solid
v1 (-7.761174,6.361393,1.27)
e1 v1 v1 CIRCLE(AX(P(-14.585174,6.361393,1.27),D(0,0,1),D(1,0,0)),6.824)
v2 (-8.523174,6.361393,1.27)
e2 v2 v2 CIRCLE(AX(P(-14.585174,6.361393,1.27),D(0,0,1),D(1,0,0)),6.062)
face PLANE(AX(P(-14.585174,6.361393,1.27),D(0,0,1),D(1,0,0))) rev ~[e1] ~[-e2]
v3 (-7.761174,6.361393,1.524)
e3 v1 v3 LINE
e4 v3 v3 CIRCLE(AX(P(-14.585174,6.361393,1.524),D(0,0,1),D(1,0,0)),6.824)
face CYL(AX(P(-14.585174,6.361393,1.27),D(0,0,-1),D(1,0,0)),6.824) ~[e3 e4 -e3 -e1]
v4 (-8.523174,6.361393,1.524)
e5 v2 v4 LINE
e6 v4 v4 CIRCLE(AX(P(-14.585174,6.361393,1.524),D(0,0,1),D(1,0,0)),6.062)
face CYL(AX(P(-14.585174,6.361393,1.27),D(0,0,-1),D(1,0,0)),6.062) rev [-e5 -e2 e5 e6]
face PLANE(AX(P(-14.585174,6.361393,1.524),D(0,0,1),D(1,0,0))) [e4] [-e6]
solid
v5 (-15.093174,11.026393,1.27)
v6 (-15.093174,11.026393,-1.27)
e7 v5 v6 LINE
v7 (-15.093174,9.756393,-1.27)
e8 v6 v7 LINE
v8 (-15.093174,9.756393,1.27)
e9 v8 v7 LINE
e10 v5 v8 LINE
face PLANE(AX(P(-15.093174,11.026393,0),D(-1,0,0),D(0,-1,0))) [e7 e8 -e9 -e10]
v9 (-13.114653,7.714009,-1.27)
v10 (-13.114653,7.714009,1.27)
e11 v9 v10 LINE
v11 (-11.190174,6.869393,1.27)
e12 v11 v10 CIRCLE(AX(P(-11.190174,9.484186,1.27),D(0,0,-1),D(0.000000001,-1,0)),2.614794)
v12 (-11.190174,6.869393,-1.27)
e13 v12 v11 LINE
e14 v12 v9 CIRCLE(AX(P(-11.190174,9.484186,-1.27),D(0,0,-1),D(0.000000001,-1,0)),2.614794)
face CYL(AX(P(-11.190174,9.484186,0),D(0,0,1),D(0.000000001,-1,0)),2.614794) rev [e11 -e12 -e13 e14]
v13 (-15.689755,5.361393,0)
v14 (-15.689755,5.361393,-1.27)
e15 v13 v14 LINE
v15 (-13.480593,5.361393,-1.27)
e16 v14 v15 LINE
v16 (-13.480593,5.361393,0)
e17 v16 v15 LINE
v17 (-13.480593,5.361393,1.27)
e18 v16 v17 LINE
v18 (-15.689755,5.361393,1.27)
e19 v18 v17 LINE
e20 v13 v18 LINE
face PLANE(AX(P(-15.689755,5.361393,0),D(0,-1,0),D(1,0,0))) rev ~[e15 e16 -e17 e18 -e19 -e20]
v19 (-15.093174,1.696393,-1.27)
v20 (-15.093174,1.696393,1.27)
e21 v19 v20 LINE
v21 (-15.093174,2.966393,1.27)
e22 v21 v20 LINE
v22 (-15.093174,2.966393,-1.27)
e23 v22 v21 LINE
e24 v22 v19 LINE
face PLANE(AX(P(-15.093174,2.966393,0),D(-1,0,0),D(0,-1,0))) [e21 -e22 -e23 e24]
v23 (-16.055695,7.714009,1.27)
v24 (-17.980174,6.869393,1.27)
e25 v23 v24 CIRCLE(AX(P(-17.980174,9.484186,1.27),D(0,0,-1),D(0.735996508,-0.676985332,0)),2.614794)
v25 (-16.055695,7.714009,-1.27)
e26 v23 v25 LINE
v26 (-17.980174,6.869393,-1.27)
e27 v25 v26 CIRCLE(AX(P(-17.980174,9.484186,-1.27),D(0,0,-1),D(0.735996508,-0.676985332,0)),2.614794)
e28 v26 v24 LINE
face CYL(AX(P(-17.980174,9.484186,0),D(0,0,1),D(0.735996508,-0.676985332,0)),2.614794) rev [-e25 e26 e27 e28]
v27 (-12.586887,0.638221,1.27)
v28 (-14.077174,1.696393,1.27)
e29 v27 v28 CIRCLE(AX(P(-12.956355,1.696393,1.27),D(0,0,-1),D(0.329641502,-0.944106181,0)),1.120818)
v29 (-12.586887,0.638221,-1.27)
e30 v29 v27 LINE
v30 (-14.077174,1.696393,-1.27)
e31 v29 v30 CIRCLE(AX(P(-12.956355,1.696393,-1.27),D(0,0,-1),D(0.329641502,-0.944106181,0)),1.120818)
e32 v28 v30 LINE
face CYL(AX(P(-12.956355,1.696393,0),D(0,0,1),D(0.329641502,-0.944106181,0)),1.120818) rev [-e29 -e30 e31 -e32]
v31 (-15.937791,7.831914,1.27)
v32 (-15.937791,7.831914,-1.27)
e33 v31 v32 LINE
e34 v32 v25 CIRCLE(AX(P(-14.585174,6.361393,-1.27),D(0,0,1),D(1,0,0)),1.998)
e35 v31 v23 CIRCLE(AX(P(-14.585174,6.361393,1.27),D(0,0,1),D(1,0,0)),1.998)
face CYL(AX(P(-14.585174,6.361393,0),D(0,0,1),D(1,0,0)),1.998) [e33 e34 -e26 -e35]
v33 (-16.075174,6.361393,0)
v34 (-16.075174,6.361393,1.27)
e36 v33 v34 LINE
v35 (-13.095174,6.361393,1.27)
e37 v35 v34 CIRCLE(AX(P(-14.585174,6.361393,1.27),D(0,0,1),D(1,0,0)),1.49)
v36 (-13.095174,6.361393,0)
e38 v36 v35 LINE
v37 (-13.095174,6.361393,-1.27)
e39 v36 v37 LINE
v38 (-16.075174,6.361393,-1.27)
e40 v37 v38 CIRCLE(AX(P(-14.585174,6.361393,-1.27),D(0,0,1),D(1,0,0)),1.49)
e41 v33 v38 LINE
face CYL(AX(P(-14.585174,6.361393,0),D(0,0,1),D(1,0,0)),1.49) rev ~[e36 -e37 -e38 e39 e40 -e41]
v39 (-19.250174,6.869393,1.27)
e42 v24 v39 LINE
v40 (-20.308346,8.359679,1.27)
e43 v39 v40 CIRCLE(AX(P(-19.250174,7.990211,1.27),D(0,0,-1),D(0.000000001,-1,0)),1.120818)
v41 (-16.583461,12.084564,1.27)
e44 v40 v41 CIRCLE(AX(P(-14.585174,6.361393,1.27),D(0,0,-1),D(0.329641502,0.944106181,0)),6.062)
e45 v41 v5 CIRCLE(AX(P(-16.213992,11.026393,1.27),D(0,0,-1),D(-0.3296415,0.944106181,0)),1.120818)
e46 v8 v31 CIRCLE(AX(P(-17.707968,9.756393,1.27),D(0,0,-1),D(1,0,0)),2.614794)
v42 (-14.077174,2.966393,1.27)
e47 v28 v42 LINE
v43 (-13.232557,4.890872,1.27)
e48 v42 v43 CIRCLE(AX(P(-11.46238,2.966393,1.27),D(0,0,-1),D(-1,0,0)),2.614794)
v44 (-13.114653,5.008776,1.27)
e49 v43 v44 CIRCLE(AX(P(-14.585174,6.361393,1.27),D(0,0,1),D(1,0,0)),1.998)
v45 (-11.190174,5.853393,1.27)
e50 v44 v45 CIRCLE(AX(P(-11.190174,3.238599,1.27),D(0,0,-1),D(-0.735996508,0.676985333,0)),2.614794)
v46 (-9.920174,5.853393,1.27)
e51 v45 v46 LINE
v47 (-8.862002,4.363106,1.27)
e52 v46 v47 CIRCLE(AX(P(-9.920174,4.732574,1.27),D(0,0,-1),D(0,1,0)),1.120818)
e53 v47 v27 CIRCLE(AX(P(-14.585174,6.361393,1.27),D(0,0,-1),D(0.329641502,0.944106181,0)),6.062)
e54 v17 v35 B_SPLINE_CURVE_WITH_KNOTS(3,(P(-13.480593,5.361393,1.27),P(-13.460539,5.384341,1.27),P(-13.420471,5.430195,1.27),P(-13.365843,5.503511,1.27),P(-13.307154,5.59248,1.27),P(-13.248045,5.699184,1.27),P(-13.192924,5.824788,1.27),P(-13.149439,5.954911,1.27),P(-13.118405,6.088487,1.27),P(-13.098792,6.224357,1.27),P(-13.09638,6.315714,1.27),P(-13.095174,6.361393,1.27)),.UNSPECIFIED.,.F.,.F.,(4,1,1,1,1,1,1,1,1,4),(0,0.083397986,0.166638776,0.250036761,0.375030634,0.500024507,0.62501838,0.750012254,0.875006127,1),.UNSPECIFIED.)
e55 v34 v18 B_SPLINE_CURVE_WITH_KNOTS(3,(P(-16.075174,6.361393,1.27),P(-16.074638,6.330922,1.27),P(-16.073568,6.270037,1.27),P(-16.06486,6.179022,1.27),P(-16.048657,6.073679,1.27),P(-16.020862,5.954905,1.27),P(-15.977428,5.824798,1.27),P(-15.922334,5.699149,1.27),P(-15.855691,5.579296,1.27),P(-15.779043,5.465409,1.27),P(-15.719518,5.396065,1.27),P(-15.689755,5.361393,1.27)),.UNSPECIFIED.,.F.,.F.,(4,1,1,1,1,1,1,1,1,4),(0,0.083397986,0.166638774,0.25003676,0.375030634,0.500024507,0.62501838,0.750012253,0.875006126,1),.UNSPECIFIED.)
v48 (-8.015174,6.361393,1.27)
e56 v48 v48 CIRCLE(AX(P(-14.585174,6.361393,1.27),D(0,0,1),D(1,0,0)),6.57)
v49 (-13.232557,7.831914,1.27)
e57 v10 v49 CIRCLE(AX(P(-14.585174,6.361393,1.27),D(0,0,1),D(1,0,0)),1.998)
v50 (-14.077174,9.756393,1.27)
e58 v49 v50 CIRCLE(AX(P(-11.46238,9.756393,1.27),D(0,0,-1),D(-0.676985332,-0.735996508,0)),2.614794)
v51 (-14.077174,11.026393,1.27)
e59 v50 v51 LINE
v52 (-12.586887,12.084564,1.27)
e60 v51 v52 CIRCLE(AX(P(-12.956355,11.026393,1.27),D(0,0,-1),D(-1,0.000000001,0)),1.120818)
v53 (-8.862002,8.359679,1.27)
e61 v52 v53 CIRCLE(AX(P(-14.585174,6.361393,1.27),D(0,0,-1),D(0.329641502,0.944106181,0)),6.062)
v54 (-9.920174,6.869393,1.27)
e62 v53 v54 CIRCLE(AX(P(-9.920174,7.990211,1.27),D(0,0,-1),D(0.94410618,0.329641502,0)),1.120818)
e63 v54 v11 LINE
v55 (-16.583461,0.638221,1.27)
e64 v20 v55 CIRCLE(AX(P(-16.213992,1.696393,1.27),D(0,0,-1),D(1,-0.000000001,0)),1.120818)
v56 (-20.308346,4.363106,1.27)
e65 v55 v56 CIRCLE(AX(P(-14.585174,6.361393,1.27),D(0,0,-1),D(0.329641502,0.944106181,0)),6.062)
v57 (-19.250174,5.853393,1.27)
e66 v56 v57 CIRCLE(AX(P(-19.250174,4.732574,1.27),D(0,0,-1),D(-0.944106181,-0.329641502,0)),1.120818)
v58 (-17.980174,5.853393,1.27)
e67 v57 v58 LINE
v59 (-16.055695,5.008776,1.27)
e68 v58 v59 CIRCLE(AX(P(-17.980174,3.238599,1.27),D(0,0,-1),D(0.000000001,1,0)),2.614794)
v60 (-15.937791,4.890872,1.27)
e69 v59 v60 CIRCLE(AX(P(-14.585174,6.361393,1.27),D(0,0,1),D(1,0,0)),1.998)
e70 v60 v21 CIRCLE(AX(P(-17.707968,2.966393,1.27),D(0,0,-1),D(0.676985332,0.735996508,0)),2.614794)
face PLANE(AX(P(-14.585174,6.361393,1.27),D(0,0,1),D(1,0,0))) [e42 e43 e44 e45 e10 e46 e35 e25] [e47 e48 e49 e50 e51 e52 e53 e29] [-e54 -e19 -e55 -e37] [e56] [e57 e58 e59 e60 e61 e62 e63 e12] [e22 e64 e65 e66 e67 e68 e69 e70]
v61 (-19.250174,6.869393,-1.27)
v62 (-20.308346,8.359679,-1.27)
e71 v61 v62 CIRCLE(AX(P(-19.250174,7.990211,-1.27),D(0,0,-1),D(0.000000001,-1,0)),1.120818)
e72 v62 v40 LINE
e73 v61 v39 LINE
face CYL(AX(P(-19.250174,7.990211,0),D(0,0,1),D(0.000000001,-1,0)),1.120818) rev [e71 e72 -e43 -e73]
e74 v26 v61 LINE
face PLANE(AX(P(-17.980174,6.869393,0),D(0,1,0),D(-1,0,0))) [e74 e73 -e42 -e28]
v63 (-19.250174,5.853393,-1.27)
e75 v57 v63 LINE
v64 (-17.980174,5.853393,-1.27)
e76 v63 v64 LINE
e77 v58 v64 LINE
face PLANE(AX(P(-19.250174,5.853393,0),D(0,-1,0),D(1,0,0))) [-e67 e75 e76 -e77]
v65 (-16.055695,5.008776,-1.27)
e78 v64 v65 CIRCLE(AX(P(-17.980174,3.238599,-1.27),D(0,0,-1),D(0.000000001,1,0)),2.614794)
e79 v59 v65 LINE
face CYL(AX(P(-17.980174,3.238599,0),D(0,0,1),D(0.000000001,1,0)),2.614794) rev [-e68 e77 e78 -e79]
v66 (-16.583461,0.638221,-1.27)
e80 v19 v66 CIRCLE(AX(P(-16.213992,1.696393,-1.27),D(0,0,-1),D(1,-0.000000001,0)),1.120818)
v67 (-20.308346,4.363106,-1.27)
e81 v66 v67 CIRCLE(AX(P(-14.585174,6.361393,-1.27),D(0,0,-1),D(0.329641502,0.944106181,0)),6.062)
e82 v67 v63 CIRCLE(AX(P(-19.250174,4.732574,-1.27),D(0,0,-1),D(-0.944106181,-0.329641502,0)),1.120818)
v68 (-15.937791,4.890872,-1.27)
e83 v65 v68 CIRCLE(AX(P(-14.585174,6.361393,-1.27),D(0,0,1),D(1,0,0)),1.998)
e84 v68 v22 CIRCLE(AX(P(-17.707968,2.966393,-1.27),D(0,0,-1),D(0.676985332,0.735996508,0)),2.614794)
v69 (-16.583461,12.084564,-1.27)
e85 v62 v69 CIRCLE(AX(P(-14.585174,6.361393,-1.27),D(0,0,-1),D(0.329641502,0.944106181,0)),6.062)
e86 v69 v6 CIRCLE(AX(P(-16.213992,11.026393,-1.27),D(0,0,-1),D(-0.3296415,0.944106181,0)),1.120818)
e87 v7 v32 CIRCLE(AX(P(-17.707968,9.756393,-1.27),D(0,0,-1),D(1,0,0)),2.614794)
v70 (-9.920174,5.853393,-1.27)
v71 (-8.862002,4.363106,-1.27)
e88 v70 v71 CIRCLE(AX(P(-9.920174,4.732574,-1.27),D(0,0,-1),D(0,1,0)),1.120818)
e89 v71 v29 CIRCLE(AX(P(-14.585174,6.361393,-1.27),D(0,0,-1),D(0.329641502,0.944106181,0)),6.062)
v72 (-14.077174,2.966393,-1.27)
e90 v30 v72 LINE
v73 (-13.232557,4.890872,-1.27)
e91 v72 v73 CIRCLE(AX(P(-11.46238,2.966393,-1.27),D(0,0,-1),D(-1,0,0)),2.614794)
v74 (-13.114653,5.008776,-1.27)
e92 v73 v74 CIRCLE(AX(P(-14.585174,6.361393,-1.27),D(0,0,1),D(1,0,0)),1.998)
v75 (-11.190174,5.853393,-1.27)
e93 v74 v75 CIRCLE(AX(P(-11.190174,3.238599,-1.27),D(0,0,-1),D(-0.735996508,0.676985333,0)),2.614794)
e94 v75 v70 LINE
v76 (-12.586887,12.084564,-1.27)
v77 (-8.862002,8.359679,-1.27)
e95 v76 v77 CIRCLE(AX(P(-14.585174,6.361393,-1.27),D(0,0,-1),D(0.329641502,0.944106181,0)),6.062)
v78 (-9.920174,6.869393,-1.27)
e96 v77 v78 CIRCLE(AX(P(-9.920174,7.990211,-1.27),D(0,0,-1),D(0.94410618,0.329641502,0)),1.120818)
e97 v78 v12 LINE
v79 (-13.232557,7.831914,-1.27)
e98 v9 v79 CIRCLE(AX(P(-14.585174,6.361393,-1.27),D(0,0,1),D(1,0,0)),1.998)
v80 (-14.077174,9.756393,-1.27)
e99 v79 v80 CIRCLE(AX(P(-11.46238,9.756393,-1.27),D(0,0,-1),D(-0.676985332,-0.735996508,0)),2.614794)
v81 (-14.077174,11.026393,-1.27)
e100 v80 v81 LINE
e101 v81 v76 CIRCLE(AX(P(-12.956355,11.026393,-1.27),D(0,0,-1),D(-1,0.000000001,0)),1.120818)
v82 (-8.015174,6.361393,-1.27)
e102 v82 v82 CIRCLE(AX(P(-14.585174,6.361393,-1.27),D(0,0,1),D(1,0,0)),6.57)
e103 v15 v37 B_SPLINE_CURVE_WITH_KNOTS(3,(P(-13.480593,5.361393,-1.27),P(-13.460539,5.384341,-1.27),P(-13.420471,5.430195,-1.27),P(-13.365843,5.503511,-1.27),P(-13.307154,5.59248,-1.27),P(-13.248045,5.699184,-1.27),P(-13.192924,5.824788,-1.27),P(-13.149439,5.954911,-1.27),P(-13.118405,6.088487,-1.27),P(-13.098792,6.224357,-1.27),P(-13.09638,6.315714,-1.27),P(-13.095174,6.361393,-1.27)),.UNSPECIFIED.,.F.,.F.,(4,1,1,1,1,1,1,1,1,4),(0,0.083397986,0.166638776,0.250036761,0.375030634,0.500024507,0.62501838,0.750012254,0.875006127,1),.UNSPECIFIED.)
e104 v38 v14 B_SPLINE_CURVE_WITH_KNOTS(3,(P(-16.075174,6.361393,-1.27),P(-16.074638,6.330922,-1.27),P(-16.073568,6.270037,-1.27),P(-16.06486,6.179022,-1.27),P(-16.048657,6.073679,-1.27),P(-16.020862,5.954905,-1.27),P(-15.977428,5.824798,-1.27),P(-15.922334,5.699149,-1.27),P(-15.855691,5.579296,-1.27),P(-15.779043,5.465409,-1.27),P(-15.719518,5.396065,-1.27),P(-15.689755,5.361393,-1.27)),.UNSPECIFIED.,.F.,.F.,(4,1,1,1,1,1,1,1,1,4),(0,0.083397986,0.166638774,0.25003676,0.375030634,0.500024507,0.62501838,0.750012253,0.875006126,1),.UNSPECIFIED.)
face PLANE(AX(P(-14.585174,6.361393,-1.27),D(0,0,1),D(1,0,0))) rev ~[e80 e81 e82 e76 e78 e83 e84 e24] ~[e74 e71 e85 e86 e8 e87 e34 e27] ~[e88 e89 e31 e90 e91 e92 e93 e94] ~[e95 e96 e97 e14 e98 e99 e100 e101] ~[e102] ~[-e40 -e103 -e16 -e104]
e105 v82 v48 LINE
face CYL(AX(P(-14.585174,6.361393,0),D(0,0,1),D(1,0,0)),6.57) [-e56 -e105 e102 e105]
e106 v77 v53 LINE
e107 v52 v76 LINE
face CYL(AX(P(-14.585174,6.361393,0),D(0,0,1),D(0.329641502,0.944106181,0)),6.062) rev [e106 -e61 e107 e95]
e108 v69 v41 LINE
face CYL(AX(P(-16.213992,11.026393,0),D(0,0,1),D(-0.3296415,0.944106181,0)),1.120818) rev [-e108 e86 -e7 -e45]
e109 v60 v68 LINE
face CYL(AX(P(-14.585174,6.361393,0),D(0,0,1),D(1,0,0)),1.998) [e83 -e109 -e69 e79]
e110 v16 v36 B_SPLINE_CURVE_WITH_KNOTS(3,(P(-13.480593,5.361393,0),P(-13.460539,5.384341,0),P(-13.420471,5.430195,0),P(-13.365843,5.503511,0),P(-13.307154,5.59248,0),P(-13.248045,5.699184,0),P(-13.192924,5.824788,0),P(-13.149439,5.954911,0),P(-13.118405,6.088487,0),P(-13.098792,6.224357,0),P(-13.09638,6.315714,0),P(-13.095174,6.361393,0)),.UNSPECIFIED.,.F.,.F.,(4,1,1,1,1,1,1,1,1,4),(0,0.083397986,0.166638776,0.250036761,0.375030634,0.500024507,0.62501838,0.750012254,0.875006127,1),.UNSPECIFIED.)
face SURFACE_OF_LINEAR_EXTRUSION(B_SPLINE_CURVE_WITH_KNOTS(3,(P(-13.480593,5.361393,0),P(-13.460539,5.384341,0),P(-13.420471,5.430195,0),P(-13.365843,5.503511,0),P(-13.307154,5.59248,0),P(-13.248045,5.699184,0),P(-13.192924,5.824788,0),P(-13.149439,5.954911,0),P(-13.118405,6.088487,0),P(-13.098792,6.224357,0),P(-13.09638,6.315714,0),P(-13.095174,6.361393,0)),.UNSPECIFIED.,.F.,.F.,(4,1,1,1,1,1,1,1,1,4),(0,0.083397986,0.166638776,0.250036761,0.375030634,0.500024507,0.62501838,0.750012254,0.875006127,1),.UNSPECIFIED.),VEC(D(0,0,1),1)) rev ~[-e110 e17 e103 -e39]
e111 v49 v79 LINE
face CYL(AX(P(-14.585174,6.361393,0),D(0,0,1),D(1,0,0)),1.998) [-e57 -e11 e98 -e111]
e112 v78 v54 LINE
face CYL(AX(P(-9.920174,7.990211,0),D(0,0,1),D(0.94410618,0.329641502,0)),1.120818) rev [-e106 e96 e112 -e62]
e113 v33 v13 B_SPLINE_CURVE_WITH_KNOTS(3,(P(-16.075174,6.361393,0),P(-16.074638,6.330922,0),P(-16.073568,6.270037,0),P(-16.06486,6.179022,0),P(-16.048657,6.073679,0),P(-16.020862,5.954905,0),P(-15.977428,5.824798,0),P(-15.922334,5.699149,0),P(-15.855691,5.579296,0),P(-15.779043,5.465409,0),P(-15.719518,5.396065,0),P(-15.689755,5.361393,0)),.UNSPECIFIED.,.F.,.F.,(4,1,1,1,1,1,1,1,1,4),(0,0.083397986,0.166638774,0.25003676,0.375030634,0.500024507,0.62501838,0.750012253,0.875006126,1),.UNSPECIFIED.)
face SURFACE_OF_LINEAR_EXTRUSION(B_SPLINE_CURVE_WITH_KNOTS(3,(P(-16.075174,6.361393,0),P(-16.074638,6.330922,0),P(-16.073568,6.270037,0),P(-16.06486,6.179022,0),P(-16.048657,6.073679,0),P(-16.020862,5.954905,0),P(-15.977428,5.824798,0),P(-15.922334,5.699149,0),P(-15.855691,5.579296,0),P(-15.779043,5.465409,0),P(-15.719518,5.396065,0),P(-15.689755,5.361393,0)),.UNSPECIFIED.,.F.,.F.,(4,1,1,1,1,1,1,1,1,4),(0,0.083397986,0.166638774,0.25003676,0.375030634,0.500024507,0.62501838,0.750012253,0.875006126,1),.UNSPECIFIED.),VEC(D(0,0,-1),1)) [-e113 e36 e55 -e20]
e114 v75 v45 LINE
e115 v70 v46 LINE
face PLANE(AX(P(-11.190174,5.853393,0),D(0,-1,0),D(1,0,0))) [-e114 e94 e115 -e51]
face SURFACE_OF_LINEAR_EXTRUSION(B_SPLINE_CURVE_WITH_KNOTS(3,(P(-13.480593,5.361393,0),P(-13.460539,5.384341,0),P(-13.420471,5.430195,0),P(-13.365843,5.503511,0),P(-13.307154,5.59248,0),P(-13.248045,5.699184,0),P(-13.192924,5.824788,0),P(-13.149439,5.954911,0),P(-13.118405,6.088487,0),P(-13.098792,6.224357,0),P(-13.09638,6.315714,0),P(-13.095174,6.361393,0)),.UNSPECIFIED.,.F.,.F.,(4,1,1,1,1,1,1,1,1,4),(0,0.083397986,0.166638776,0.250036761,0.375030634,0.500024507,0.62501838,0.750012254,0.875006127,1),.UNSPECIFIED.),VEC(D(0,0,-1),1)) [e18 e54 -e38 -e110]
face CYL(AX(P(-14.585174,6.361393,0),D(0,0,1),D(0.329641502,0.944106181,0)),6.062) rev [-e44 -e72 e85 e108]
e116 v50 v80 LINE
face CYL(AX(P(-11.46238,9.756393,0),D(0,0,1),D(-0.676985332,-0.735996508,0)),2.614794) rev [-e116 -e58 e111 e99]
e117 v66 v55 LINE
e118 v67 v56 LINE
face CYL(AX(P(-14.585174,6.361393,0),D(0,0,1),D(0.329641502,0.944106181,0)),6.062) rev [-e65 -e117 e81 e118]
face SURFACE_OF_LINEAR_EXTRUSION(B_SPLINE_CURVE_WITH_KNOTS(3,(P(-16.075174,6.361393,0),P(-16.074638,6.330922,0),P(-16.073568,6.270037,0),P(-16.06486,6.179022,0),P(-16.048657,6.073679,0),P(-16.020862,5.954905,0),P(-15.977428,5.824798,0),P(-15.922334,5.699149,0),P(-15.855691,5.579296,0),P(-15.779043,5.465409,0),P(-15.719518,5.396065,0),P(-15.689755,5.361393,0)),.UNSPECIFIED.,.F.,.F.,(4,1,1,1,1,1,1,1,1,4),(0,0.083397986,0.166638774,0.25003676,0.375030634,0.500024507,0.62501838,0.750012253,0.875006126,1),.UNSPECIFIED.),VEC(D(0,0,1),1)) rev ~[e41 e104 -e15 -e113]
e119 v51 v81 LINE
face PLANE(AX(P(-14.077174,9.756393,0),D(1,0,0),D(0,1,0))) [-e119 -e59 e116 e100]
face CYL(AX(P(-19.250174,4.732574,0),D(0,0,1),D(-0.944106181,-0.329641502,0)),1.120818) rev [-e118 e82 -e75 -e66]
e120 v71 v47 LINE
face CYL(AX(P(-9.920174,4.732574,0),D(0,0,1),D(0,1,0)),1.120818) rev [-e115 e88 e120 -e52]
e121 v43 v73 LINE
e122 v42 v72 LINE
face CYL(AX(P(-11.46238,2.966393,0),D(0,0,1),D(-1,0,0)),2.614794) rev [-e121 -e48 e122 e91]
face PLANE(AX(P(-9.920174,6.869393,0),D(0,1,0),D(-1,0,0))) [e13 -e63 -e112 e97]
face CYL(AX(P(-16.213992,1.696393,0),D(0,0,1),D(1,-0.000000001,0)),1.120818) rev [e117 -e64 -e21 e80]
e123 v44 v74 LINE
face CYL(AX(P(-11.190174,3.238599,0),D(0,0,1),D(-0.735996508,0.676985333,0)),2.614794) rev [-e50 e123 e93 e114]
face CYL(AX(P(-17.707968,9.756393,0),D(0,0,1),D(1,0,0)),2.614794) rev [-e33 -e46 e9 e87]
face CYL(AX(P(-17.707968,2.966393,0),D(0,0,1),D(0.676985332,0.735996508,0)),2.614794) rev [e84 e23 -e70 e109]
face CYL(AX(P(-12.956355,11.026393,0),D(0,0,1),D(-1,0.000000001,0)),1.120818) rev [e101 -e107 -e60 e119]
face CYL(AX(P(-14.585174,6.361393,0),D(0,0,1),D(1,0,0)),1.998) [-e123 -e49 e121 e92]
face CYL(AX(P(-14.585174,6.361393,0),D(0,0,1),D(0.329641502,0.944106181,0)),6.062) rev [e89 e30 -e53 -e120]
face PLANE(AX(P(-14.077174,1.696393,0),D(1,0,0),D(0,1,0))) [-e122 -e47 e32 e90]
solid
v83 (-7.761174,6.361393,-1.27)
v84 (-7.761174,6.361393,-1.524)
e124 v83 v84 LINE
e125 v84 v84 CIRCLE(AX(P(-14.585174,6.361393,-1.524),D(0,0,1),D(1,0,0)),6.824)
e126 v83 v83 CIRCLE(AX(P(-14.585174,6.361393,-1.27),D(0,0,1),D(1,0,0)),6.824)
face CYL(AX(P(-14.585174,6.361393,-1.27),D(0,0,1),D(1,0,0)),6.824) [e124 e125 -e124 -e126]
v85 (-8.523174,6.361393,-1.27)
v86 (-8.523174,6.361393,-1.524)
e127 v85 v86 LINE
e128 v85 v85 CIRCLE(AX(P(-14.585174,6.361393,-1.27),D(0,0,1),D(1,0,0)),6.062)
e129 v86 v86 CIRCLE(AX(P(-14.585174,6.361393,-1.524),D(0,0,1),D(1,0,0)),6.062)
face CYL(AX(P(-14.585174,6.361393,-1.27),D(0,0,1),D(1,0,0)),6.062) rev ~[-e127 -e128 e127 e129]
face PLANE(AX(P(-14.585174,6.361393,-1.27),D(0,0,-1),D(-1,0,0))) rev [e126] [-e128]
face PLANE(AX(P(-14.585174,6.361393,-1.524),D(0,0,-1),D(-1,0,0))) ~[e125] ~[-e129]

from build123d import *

# Parameters (mm, degrees)
SKETCH1_R           = 6.569999999
SKETCH1_R_2         = 6.061999999
SKETCH1_R_3         = 1.997999999
BOSS_EXTRUDE1_DEPTH = 1.27
BOSS_EXTRUDE2_START = 1.27
SKETCH1_5_R         = 6.823999999
SKETCH1_5_R_2       = 6.061999999
BOSS_EXTRUDE2_DEPTH = 0.254


with BuildPart() as part:
    # Sketch1 → Boss-Extrude1 (new, symmetric)
    with BuildSketch(Plane.XY):
        with Locations((-14.585173992, 6.361392546)):
            Circle(SKETCH1_R)
        with Locations((-14.585173992, 6.361392546)):
            Circle(SKETCH1_R_2, mode=Mode.SUBTRACT)
        with BuildLine():
            Line((-14.077173992, 9.756392545), (-14.077173992, 11.026392545))
            ThreePointArc((-14.077173992, 11.026392545), (-13.605249635, 11.940269174), (-12.586887207, 12.084564212))
            ThreePointArc((-12.586887207, 12.084564212), (-14.585173992, 12.423392545), (-16.583460777, 12.084564212))
            ThreePointArc((-16.583460777, 12.084564212), (-15.565098349, 11.940269174), (-15.093173992, 11.026392545))
            Line((-15.093173992, 11.026392545), (-15.093173992, 9.756392545))
            ThreePointArc((-15.093173992, 9.756392545), (-15.313620832, 8.705559935), (-15.937790686, 7.831913568))
            ThreePointArc((-15.937790686, 7.831913568), (-14.585173992, 8.359392545), (-13.232557298, 7.831913568))
            ThreePointArc((-13.232557298, 7.831913568), (-13.856727152, 8.705559935), (-14.077173992, 9.756392545))
        make_face()
        with BuildLine():
            ThreePointArc((-8.523173993, 6.361392546), (-8.608481319, 7.374797044), (-8.862002326, 8.35967933))
            ThreePointArc((-8.862002326, 8.35967933), (-9.006297363, 7.341316902), (-9.920173993, 6.869392546))
            Line((-9.920173993, 6.869392546), (-11.190173993, 6.869392546))
            ThreePointArc((-11.190173993, 6.869392546), (-12.241006602, 7.089839385), (-13.11465297, 7.714009239))
            ThreePointArc((-13.11465297, 7.714009239), (-12.723708843, 7.087306795), (-12.587173993, 6.361392546))
            ThreePointArc((-12.587173993, 6.361392546), (-12.723708843, 5.635478296), (-13.11465297, 5.008775852))
            ThreePointArc((-13.11465297, 5.008775852), (-12.241006602, 5.632945706), (-11.190173993, 5.853392546))
            Line((-11.190173993, 5.853392546), (-9.920173993, 5.853392546))
            ThreePointArc((-9.920173993, 5.853392546), (-9.006297363, 5.381468189), (-8.862002326, 4.363105761))
            ThreePointArc((-8.862002326, 4.363105761), (-8.608481319, 5.347988047), (-8.523173993, 6.361392546))
        make_face()
        with BuildLine():
            ThreePointArc((-19.250173991, 6.869392546), (-20.164050621, 7.341316902), (-20.308345658, 8.35967933))
            ThreePointArc((-20.308345658, 8.35967933), (-20.647173991, 6.361392546), (-20.308345658, 4.363105761))
            ThreePointArc((-20.308345658, 4.363105761), (-20.164050621, 5.381468189), (-19.250173991, 5.853392546))
            Line((-19.250173991, 5.853392546), (-17.980173991, 5.853392546))
            ThreePointArc((-17.980173991, 5.853392546), (-16.929341382, 5.632945706), (-16.055695014, 5.008775852))
            ThreePointArc((-16.055695014, 5.008775852), (-16.583173991, 6.361392546), (-16.055695014, 7.714009239))
            ThreePointArc((-16.055695014, 7.714009239), (-16.929341382, 7.089839385), (-17.980173991, 6.869392546))
            Line((-17.980173991, 6.869392546), (-19.250173991, 6.869392546))
        make_face()
        with BuildLine():
            ThreePointArc((-16.583460777, 0.63822088), (-14.585173992, 0.299392546), (-12.586887207, 0.63822088))
            ThreePointArc((-12.586887207, 0.63822088), (-13.605249635, 0.782515917), (-14.077173992, 1.696392546))
            Line((-14.077173992, 1.696392546), (-14.077173992, 2.966392546))
            ThreePointArc((-14.077173992, 2.966392546), (-13.856727152, 4.017225156), (-13.232557298, 4.890871523))
            ThreePointArc((-13.232557298, 4.890871523), (-14.585173992, 4.363392546), (-15.937790686, 4.890871523))
            ThreePointArc((-15.937790686, 4.890871523), (-15.313620832, 4.017225156), (-15.093173992, 2.966392546))
            Line((-15.093173992, 2.966392546), (-15.093173992, 1.696392546))
            ThreePointArc((-15.093173992, 1.696392546), (-15.565098349, 0.782515917), (-16.583460777, 0.63822088))
        make_face()
        with Locations((-14.585173992, 6.361392546)):
            Circle(SKETCH1_R_3)
        with BuildLine():
            add(Edge.make_bspline(
                [(-13.480592623, 5.361392545), (-13.460539436, 5.384341171), (-13.420470859, 5.430195167), (-13.365842841, 5.503511201), (-13.307154336, 5.59247995), (-13.248045319, 5.69918428), (-13.192924177, 5.824787769), (-13.14943929, 5.954910636), (-13.118404819, 6.088487495), (-13.098791679, 6.224357356), (-13.096379888, 6.315714149), (-13.095173993, 6.361392546)],
                knots=[0, 0, 0, 0, 0.083397986, 0.166638776, 0.250036761, 0.375030634, 0.500024507, 0.62501838, 0.750012254, 0.875006127, 1, 1, 1, 1], degree=3))
            ThreePointArc((-13.095173993, 6.361392546), (-14.585173992, 7.851392545), (-16.075173991, 6.361392546))
            add(Edge.make_bspline(
                [(-16.075173991, 6.361392546), (-16.074638254, 6.330921531), (-16.073567789, 6.270036937), (-16.064859774, 6.179022479), (-16.04865674, 6.073679037), (-16.020862372, 5.954905457), (-15.977427672, 5.824797796), (-15.922333529, 5.699149352), (-15.85569141, 5.579296345), (-15.779043389, 5.46540879), (-15.719518037, 5.396064627), (-15.689755361, 5.361392545)],
                knots=[0, 0, 0, 0, 0.083397986, 0.166638774, 0.25003676, 0.375030634, 0.500024507, 0.62501838, 0.750012253, 0.875006126, 1, 1, 1, 1], degree=3))
            Line((-15.689755361, 5.361392545), (-13.480592623, 5.361392545))
        make_face(mode=Mode.SUBTRACT)
    extrude(amount=BOSS_EXTRUDE1_DEPTH, both=True)


with BuildPart() as body_2:
    # Sketch1<5> → Boss-Extrude2 (new body)
    with BuildSketch(Plane.XY.offset(BOSS_EXTRUDE2_START)):
        with Locations((-14.585173992, 6.361392546)):
            Circle(SKETCH1_5_R)
        with Locations((-14.585173992, 6.361392546)):
            Circle(SKETCH1_5_R_2, mode=Mode.SUBTRACT)
    extrude(amount=BOSS_EXTRUDE2_DEPTH)


with BuildPart() as body_3:
    # Mirror2: mirrored copy
    add(body_2.part.mirror(Plane.XY))


solid = Compound([part.part, body_2.part, body_3.part])
